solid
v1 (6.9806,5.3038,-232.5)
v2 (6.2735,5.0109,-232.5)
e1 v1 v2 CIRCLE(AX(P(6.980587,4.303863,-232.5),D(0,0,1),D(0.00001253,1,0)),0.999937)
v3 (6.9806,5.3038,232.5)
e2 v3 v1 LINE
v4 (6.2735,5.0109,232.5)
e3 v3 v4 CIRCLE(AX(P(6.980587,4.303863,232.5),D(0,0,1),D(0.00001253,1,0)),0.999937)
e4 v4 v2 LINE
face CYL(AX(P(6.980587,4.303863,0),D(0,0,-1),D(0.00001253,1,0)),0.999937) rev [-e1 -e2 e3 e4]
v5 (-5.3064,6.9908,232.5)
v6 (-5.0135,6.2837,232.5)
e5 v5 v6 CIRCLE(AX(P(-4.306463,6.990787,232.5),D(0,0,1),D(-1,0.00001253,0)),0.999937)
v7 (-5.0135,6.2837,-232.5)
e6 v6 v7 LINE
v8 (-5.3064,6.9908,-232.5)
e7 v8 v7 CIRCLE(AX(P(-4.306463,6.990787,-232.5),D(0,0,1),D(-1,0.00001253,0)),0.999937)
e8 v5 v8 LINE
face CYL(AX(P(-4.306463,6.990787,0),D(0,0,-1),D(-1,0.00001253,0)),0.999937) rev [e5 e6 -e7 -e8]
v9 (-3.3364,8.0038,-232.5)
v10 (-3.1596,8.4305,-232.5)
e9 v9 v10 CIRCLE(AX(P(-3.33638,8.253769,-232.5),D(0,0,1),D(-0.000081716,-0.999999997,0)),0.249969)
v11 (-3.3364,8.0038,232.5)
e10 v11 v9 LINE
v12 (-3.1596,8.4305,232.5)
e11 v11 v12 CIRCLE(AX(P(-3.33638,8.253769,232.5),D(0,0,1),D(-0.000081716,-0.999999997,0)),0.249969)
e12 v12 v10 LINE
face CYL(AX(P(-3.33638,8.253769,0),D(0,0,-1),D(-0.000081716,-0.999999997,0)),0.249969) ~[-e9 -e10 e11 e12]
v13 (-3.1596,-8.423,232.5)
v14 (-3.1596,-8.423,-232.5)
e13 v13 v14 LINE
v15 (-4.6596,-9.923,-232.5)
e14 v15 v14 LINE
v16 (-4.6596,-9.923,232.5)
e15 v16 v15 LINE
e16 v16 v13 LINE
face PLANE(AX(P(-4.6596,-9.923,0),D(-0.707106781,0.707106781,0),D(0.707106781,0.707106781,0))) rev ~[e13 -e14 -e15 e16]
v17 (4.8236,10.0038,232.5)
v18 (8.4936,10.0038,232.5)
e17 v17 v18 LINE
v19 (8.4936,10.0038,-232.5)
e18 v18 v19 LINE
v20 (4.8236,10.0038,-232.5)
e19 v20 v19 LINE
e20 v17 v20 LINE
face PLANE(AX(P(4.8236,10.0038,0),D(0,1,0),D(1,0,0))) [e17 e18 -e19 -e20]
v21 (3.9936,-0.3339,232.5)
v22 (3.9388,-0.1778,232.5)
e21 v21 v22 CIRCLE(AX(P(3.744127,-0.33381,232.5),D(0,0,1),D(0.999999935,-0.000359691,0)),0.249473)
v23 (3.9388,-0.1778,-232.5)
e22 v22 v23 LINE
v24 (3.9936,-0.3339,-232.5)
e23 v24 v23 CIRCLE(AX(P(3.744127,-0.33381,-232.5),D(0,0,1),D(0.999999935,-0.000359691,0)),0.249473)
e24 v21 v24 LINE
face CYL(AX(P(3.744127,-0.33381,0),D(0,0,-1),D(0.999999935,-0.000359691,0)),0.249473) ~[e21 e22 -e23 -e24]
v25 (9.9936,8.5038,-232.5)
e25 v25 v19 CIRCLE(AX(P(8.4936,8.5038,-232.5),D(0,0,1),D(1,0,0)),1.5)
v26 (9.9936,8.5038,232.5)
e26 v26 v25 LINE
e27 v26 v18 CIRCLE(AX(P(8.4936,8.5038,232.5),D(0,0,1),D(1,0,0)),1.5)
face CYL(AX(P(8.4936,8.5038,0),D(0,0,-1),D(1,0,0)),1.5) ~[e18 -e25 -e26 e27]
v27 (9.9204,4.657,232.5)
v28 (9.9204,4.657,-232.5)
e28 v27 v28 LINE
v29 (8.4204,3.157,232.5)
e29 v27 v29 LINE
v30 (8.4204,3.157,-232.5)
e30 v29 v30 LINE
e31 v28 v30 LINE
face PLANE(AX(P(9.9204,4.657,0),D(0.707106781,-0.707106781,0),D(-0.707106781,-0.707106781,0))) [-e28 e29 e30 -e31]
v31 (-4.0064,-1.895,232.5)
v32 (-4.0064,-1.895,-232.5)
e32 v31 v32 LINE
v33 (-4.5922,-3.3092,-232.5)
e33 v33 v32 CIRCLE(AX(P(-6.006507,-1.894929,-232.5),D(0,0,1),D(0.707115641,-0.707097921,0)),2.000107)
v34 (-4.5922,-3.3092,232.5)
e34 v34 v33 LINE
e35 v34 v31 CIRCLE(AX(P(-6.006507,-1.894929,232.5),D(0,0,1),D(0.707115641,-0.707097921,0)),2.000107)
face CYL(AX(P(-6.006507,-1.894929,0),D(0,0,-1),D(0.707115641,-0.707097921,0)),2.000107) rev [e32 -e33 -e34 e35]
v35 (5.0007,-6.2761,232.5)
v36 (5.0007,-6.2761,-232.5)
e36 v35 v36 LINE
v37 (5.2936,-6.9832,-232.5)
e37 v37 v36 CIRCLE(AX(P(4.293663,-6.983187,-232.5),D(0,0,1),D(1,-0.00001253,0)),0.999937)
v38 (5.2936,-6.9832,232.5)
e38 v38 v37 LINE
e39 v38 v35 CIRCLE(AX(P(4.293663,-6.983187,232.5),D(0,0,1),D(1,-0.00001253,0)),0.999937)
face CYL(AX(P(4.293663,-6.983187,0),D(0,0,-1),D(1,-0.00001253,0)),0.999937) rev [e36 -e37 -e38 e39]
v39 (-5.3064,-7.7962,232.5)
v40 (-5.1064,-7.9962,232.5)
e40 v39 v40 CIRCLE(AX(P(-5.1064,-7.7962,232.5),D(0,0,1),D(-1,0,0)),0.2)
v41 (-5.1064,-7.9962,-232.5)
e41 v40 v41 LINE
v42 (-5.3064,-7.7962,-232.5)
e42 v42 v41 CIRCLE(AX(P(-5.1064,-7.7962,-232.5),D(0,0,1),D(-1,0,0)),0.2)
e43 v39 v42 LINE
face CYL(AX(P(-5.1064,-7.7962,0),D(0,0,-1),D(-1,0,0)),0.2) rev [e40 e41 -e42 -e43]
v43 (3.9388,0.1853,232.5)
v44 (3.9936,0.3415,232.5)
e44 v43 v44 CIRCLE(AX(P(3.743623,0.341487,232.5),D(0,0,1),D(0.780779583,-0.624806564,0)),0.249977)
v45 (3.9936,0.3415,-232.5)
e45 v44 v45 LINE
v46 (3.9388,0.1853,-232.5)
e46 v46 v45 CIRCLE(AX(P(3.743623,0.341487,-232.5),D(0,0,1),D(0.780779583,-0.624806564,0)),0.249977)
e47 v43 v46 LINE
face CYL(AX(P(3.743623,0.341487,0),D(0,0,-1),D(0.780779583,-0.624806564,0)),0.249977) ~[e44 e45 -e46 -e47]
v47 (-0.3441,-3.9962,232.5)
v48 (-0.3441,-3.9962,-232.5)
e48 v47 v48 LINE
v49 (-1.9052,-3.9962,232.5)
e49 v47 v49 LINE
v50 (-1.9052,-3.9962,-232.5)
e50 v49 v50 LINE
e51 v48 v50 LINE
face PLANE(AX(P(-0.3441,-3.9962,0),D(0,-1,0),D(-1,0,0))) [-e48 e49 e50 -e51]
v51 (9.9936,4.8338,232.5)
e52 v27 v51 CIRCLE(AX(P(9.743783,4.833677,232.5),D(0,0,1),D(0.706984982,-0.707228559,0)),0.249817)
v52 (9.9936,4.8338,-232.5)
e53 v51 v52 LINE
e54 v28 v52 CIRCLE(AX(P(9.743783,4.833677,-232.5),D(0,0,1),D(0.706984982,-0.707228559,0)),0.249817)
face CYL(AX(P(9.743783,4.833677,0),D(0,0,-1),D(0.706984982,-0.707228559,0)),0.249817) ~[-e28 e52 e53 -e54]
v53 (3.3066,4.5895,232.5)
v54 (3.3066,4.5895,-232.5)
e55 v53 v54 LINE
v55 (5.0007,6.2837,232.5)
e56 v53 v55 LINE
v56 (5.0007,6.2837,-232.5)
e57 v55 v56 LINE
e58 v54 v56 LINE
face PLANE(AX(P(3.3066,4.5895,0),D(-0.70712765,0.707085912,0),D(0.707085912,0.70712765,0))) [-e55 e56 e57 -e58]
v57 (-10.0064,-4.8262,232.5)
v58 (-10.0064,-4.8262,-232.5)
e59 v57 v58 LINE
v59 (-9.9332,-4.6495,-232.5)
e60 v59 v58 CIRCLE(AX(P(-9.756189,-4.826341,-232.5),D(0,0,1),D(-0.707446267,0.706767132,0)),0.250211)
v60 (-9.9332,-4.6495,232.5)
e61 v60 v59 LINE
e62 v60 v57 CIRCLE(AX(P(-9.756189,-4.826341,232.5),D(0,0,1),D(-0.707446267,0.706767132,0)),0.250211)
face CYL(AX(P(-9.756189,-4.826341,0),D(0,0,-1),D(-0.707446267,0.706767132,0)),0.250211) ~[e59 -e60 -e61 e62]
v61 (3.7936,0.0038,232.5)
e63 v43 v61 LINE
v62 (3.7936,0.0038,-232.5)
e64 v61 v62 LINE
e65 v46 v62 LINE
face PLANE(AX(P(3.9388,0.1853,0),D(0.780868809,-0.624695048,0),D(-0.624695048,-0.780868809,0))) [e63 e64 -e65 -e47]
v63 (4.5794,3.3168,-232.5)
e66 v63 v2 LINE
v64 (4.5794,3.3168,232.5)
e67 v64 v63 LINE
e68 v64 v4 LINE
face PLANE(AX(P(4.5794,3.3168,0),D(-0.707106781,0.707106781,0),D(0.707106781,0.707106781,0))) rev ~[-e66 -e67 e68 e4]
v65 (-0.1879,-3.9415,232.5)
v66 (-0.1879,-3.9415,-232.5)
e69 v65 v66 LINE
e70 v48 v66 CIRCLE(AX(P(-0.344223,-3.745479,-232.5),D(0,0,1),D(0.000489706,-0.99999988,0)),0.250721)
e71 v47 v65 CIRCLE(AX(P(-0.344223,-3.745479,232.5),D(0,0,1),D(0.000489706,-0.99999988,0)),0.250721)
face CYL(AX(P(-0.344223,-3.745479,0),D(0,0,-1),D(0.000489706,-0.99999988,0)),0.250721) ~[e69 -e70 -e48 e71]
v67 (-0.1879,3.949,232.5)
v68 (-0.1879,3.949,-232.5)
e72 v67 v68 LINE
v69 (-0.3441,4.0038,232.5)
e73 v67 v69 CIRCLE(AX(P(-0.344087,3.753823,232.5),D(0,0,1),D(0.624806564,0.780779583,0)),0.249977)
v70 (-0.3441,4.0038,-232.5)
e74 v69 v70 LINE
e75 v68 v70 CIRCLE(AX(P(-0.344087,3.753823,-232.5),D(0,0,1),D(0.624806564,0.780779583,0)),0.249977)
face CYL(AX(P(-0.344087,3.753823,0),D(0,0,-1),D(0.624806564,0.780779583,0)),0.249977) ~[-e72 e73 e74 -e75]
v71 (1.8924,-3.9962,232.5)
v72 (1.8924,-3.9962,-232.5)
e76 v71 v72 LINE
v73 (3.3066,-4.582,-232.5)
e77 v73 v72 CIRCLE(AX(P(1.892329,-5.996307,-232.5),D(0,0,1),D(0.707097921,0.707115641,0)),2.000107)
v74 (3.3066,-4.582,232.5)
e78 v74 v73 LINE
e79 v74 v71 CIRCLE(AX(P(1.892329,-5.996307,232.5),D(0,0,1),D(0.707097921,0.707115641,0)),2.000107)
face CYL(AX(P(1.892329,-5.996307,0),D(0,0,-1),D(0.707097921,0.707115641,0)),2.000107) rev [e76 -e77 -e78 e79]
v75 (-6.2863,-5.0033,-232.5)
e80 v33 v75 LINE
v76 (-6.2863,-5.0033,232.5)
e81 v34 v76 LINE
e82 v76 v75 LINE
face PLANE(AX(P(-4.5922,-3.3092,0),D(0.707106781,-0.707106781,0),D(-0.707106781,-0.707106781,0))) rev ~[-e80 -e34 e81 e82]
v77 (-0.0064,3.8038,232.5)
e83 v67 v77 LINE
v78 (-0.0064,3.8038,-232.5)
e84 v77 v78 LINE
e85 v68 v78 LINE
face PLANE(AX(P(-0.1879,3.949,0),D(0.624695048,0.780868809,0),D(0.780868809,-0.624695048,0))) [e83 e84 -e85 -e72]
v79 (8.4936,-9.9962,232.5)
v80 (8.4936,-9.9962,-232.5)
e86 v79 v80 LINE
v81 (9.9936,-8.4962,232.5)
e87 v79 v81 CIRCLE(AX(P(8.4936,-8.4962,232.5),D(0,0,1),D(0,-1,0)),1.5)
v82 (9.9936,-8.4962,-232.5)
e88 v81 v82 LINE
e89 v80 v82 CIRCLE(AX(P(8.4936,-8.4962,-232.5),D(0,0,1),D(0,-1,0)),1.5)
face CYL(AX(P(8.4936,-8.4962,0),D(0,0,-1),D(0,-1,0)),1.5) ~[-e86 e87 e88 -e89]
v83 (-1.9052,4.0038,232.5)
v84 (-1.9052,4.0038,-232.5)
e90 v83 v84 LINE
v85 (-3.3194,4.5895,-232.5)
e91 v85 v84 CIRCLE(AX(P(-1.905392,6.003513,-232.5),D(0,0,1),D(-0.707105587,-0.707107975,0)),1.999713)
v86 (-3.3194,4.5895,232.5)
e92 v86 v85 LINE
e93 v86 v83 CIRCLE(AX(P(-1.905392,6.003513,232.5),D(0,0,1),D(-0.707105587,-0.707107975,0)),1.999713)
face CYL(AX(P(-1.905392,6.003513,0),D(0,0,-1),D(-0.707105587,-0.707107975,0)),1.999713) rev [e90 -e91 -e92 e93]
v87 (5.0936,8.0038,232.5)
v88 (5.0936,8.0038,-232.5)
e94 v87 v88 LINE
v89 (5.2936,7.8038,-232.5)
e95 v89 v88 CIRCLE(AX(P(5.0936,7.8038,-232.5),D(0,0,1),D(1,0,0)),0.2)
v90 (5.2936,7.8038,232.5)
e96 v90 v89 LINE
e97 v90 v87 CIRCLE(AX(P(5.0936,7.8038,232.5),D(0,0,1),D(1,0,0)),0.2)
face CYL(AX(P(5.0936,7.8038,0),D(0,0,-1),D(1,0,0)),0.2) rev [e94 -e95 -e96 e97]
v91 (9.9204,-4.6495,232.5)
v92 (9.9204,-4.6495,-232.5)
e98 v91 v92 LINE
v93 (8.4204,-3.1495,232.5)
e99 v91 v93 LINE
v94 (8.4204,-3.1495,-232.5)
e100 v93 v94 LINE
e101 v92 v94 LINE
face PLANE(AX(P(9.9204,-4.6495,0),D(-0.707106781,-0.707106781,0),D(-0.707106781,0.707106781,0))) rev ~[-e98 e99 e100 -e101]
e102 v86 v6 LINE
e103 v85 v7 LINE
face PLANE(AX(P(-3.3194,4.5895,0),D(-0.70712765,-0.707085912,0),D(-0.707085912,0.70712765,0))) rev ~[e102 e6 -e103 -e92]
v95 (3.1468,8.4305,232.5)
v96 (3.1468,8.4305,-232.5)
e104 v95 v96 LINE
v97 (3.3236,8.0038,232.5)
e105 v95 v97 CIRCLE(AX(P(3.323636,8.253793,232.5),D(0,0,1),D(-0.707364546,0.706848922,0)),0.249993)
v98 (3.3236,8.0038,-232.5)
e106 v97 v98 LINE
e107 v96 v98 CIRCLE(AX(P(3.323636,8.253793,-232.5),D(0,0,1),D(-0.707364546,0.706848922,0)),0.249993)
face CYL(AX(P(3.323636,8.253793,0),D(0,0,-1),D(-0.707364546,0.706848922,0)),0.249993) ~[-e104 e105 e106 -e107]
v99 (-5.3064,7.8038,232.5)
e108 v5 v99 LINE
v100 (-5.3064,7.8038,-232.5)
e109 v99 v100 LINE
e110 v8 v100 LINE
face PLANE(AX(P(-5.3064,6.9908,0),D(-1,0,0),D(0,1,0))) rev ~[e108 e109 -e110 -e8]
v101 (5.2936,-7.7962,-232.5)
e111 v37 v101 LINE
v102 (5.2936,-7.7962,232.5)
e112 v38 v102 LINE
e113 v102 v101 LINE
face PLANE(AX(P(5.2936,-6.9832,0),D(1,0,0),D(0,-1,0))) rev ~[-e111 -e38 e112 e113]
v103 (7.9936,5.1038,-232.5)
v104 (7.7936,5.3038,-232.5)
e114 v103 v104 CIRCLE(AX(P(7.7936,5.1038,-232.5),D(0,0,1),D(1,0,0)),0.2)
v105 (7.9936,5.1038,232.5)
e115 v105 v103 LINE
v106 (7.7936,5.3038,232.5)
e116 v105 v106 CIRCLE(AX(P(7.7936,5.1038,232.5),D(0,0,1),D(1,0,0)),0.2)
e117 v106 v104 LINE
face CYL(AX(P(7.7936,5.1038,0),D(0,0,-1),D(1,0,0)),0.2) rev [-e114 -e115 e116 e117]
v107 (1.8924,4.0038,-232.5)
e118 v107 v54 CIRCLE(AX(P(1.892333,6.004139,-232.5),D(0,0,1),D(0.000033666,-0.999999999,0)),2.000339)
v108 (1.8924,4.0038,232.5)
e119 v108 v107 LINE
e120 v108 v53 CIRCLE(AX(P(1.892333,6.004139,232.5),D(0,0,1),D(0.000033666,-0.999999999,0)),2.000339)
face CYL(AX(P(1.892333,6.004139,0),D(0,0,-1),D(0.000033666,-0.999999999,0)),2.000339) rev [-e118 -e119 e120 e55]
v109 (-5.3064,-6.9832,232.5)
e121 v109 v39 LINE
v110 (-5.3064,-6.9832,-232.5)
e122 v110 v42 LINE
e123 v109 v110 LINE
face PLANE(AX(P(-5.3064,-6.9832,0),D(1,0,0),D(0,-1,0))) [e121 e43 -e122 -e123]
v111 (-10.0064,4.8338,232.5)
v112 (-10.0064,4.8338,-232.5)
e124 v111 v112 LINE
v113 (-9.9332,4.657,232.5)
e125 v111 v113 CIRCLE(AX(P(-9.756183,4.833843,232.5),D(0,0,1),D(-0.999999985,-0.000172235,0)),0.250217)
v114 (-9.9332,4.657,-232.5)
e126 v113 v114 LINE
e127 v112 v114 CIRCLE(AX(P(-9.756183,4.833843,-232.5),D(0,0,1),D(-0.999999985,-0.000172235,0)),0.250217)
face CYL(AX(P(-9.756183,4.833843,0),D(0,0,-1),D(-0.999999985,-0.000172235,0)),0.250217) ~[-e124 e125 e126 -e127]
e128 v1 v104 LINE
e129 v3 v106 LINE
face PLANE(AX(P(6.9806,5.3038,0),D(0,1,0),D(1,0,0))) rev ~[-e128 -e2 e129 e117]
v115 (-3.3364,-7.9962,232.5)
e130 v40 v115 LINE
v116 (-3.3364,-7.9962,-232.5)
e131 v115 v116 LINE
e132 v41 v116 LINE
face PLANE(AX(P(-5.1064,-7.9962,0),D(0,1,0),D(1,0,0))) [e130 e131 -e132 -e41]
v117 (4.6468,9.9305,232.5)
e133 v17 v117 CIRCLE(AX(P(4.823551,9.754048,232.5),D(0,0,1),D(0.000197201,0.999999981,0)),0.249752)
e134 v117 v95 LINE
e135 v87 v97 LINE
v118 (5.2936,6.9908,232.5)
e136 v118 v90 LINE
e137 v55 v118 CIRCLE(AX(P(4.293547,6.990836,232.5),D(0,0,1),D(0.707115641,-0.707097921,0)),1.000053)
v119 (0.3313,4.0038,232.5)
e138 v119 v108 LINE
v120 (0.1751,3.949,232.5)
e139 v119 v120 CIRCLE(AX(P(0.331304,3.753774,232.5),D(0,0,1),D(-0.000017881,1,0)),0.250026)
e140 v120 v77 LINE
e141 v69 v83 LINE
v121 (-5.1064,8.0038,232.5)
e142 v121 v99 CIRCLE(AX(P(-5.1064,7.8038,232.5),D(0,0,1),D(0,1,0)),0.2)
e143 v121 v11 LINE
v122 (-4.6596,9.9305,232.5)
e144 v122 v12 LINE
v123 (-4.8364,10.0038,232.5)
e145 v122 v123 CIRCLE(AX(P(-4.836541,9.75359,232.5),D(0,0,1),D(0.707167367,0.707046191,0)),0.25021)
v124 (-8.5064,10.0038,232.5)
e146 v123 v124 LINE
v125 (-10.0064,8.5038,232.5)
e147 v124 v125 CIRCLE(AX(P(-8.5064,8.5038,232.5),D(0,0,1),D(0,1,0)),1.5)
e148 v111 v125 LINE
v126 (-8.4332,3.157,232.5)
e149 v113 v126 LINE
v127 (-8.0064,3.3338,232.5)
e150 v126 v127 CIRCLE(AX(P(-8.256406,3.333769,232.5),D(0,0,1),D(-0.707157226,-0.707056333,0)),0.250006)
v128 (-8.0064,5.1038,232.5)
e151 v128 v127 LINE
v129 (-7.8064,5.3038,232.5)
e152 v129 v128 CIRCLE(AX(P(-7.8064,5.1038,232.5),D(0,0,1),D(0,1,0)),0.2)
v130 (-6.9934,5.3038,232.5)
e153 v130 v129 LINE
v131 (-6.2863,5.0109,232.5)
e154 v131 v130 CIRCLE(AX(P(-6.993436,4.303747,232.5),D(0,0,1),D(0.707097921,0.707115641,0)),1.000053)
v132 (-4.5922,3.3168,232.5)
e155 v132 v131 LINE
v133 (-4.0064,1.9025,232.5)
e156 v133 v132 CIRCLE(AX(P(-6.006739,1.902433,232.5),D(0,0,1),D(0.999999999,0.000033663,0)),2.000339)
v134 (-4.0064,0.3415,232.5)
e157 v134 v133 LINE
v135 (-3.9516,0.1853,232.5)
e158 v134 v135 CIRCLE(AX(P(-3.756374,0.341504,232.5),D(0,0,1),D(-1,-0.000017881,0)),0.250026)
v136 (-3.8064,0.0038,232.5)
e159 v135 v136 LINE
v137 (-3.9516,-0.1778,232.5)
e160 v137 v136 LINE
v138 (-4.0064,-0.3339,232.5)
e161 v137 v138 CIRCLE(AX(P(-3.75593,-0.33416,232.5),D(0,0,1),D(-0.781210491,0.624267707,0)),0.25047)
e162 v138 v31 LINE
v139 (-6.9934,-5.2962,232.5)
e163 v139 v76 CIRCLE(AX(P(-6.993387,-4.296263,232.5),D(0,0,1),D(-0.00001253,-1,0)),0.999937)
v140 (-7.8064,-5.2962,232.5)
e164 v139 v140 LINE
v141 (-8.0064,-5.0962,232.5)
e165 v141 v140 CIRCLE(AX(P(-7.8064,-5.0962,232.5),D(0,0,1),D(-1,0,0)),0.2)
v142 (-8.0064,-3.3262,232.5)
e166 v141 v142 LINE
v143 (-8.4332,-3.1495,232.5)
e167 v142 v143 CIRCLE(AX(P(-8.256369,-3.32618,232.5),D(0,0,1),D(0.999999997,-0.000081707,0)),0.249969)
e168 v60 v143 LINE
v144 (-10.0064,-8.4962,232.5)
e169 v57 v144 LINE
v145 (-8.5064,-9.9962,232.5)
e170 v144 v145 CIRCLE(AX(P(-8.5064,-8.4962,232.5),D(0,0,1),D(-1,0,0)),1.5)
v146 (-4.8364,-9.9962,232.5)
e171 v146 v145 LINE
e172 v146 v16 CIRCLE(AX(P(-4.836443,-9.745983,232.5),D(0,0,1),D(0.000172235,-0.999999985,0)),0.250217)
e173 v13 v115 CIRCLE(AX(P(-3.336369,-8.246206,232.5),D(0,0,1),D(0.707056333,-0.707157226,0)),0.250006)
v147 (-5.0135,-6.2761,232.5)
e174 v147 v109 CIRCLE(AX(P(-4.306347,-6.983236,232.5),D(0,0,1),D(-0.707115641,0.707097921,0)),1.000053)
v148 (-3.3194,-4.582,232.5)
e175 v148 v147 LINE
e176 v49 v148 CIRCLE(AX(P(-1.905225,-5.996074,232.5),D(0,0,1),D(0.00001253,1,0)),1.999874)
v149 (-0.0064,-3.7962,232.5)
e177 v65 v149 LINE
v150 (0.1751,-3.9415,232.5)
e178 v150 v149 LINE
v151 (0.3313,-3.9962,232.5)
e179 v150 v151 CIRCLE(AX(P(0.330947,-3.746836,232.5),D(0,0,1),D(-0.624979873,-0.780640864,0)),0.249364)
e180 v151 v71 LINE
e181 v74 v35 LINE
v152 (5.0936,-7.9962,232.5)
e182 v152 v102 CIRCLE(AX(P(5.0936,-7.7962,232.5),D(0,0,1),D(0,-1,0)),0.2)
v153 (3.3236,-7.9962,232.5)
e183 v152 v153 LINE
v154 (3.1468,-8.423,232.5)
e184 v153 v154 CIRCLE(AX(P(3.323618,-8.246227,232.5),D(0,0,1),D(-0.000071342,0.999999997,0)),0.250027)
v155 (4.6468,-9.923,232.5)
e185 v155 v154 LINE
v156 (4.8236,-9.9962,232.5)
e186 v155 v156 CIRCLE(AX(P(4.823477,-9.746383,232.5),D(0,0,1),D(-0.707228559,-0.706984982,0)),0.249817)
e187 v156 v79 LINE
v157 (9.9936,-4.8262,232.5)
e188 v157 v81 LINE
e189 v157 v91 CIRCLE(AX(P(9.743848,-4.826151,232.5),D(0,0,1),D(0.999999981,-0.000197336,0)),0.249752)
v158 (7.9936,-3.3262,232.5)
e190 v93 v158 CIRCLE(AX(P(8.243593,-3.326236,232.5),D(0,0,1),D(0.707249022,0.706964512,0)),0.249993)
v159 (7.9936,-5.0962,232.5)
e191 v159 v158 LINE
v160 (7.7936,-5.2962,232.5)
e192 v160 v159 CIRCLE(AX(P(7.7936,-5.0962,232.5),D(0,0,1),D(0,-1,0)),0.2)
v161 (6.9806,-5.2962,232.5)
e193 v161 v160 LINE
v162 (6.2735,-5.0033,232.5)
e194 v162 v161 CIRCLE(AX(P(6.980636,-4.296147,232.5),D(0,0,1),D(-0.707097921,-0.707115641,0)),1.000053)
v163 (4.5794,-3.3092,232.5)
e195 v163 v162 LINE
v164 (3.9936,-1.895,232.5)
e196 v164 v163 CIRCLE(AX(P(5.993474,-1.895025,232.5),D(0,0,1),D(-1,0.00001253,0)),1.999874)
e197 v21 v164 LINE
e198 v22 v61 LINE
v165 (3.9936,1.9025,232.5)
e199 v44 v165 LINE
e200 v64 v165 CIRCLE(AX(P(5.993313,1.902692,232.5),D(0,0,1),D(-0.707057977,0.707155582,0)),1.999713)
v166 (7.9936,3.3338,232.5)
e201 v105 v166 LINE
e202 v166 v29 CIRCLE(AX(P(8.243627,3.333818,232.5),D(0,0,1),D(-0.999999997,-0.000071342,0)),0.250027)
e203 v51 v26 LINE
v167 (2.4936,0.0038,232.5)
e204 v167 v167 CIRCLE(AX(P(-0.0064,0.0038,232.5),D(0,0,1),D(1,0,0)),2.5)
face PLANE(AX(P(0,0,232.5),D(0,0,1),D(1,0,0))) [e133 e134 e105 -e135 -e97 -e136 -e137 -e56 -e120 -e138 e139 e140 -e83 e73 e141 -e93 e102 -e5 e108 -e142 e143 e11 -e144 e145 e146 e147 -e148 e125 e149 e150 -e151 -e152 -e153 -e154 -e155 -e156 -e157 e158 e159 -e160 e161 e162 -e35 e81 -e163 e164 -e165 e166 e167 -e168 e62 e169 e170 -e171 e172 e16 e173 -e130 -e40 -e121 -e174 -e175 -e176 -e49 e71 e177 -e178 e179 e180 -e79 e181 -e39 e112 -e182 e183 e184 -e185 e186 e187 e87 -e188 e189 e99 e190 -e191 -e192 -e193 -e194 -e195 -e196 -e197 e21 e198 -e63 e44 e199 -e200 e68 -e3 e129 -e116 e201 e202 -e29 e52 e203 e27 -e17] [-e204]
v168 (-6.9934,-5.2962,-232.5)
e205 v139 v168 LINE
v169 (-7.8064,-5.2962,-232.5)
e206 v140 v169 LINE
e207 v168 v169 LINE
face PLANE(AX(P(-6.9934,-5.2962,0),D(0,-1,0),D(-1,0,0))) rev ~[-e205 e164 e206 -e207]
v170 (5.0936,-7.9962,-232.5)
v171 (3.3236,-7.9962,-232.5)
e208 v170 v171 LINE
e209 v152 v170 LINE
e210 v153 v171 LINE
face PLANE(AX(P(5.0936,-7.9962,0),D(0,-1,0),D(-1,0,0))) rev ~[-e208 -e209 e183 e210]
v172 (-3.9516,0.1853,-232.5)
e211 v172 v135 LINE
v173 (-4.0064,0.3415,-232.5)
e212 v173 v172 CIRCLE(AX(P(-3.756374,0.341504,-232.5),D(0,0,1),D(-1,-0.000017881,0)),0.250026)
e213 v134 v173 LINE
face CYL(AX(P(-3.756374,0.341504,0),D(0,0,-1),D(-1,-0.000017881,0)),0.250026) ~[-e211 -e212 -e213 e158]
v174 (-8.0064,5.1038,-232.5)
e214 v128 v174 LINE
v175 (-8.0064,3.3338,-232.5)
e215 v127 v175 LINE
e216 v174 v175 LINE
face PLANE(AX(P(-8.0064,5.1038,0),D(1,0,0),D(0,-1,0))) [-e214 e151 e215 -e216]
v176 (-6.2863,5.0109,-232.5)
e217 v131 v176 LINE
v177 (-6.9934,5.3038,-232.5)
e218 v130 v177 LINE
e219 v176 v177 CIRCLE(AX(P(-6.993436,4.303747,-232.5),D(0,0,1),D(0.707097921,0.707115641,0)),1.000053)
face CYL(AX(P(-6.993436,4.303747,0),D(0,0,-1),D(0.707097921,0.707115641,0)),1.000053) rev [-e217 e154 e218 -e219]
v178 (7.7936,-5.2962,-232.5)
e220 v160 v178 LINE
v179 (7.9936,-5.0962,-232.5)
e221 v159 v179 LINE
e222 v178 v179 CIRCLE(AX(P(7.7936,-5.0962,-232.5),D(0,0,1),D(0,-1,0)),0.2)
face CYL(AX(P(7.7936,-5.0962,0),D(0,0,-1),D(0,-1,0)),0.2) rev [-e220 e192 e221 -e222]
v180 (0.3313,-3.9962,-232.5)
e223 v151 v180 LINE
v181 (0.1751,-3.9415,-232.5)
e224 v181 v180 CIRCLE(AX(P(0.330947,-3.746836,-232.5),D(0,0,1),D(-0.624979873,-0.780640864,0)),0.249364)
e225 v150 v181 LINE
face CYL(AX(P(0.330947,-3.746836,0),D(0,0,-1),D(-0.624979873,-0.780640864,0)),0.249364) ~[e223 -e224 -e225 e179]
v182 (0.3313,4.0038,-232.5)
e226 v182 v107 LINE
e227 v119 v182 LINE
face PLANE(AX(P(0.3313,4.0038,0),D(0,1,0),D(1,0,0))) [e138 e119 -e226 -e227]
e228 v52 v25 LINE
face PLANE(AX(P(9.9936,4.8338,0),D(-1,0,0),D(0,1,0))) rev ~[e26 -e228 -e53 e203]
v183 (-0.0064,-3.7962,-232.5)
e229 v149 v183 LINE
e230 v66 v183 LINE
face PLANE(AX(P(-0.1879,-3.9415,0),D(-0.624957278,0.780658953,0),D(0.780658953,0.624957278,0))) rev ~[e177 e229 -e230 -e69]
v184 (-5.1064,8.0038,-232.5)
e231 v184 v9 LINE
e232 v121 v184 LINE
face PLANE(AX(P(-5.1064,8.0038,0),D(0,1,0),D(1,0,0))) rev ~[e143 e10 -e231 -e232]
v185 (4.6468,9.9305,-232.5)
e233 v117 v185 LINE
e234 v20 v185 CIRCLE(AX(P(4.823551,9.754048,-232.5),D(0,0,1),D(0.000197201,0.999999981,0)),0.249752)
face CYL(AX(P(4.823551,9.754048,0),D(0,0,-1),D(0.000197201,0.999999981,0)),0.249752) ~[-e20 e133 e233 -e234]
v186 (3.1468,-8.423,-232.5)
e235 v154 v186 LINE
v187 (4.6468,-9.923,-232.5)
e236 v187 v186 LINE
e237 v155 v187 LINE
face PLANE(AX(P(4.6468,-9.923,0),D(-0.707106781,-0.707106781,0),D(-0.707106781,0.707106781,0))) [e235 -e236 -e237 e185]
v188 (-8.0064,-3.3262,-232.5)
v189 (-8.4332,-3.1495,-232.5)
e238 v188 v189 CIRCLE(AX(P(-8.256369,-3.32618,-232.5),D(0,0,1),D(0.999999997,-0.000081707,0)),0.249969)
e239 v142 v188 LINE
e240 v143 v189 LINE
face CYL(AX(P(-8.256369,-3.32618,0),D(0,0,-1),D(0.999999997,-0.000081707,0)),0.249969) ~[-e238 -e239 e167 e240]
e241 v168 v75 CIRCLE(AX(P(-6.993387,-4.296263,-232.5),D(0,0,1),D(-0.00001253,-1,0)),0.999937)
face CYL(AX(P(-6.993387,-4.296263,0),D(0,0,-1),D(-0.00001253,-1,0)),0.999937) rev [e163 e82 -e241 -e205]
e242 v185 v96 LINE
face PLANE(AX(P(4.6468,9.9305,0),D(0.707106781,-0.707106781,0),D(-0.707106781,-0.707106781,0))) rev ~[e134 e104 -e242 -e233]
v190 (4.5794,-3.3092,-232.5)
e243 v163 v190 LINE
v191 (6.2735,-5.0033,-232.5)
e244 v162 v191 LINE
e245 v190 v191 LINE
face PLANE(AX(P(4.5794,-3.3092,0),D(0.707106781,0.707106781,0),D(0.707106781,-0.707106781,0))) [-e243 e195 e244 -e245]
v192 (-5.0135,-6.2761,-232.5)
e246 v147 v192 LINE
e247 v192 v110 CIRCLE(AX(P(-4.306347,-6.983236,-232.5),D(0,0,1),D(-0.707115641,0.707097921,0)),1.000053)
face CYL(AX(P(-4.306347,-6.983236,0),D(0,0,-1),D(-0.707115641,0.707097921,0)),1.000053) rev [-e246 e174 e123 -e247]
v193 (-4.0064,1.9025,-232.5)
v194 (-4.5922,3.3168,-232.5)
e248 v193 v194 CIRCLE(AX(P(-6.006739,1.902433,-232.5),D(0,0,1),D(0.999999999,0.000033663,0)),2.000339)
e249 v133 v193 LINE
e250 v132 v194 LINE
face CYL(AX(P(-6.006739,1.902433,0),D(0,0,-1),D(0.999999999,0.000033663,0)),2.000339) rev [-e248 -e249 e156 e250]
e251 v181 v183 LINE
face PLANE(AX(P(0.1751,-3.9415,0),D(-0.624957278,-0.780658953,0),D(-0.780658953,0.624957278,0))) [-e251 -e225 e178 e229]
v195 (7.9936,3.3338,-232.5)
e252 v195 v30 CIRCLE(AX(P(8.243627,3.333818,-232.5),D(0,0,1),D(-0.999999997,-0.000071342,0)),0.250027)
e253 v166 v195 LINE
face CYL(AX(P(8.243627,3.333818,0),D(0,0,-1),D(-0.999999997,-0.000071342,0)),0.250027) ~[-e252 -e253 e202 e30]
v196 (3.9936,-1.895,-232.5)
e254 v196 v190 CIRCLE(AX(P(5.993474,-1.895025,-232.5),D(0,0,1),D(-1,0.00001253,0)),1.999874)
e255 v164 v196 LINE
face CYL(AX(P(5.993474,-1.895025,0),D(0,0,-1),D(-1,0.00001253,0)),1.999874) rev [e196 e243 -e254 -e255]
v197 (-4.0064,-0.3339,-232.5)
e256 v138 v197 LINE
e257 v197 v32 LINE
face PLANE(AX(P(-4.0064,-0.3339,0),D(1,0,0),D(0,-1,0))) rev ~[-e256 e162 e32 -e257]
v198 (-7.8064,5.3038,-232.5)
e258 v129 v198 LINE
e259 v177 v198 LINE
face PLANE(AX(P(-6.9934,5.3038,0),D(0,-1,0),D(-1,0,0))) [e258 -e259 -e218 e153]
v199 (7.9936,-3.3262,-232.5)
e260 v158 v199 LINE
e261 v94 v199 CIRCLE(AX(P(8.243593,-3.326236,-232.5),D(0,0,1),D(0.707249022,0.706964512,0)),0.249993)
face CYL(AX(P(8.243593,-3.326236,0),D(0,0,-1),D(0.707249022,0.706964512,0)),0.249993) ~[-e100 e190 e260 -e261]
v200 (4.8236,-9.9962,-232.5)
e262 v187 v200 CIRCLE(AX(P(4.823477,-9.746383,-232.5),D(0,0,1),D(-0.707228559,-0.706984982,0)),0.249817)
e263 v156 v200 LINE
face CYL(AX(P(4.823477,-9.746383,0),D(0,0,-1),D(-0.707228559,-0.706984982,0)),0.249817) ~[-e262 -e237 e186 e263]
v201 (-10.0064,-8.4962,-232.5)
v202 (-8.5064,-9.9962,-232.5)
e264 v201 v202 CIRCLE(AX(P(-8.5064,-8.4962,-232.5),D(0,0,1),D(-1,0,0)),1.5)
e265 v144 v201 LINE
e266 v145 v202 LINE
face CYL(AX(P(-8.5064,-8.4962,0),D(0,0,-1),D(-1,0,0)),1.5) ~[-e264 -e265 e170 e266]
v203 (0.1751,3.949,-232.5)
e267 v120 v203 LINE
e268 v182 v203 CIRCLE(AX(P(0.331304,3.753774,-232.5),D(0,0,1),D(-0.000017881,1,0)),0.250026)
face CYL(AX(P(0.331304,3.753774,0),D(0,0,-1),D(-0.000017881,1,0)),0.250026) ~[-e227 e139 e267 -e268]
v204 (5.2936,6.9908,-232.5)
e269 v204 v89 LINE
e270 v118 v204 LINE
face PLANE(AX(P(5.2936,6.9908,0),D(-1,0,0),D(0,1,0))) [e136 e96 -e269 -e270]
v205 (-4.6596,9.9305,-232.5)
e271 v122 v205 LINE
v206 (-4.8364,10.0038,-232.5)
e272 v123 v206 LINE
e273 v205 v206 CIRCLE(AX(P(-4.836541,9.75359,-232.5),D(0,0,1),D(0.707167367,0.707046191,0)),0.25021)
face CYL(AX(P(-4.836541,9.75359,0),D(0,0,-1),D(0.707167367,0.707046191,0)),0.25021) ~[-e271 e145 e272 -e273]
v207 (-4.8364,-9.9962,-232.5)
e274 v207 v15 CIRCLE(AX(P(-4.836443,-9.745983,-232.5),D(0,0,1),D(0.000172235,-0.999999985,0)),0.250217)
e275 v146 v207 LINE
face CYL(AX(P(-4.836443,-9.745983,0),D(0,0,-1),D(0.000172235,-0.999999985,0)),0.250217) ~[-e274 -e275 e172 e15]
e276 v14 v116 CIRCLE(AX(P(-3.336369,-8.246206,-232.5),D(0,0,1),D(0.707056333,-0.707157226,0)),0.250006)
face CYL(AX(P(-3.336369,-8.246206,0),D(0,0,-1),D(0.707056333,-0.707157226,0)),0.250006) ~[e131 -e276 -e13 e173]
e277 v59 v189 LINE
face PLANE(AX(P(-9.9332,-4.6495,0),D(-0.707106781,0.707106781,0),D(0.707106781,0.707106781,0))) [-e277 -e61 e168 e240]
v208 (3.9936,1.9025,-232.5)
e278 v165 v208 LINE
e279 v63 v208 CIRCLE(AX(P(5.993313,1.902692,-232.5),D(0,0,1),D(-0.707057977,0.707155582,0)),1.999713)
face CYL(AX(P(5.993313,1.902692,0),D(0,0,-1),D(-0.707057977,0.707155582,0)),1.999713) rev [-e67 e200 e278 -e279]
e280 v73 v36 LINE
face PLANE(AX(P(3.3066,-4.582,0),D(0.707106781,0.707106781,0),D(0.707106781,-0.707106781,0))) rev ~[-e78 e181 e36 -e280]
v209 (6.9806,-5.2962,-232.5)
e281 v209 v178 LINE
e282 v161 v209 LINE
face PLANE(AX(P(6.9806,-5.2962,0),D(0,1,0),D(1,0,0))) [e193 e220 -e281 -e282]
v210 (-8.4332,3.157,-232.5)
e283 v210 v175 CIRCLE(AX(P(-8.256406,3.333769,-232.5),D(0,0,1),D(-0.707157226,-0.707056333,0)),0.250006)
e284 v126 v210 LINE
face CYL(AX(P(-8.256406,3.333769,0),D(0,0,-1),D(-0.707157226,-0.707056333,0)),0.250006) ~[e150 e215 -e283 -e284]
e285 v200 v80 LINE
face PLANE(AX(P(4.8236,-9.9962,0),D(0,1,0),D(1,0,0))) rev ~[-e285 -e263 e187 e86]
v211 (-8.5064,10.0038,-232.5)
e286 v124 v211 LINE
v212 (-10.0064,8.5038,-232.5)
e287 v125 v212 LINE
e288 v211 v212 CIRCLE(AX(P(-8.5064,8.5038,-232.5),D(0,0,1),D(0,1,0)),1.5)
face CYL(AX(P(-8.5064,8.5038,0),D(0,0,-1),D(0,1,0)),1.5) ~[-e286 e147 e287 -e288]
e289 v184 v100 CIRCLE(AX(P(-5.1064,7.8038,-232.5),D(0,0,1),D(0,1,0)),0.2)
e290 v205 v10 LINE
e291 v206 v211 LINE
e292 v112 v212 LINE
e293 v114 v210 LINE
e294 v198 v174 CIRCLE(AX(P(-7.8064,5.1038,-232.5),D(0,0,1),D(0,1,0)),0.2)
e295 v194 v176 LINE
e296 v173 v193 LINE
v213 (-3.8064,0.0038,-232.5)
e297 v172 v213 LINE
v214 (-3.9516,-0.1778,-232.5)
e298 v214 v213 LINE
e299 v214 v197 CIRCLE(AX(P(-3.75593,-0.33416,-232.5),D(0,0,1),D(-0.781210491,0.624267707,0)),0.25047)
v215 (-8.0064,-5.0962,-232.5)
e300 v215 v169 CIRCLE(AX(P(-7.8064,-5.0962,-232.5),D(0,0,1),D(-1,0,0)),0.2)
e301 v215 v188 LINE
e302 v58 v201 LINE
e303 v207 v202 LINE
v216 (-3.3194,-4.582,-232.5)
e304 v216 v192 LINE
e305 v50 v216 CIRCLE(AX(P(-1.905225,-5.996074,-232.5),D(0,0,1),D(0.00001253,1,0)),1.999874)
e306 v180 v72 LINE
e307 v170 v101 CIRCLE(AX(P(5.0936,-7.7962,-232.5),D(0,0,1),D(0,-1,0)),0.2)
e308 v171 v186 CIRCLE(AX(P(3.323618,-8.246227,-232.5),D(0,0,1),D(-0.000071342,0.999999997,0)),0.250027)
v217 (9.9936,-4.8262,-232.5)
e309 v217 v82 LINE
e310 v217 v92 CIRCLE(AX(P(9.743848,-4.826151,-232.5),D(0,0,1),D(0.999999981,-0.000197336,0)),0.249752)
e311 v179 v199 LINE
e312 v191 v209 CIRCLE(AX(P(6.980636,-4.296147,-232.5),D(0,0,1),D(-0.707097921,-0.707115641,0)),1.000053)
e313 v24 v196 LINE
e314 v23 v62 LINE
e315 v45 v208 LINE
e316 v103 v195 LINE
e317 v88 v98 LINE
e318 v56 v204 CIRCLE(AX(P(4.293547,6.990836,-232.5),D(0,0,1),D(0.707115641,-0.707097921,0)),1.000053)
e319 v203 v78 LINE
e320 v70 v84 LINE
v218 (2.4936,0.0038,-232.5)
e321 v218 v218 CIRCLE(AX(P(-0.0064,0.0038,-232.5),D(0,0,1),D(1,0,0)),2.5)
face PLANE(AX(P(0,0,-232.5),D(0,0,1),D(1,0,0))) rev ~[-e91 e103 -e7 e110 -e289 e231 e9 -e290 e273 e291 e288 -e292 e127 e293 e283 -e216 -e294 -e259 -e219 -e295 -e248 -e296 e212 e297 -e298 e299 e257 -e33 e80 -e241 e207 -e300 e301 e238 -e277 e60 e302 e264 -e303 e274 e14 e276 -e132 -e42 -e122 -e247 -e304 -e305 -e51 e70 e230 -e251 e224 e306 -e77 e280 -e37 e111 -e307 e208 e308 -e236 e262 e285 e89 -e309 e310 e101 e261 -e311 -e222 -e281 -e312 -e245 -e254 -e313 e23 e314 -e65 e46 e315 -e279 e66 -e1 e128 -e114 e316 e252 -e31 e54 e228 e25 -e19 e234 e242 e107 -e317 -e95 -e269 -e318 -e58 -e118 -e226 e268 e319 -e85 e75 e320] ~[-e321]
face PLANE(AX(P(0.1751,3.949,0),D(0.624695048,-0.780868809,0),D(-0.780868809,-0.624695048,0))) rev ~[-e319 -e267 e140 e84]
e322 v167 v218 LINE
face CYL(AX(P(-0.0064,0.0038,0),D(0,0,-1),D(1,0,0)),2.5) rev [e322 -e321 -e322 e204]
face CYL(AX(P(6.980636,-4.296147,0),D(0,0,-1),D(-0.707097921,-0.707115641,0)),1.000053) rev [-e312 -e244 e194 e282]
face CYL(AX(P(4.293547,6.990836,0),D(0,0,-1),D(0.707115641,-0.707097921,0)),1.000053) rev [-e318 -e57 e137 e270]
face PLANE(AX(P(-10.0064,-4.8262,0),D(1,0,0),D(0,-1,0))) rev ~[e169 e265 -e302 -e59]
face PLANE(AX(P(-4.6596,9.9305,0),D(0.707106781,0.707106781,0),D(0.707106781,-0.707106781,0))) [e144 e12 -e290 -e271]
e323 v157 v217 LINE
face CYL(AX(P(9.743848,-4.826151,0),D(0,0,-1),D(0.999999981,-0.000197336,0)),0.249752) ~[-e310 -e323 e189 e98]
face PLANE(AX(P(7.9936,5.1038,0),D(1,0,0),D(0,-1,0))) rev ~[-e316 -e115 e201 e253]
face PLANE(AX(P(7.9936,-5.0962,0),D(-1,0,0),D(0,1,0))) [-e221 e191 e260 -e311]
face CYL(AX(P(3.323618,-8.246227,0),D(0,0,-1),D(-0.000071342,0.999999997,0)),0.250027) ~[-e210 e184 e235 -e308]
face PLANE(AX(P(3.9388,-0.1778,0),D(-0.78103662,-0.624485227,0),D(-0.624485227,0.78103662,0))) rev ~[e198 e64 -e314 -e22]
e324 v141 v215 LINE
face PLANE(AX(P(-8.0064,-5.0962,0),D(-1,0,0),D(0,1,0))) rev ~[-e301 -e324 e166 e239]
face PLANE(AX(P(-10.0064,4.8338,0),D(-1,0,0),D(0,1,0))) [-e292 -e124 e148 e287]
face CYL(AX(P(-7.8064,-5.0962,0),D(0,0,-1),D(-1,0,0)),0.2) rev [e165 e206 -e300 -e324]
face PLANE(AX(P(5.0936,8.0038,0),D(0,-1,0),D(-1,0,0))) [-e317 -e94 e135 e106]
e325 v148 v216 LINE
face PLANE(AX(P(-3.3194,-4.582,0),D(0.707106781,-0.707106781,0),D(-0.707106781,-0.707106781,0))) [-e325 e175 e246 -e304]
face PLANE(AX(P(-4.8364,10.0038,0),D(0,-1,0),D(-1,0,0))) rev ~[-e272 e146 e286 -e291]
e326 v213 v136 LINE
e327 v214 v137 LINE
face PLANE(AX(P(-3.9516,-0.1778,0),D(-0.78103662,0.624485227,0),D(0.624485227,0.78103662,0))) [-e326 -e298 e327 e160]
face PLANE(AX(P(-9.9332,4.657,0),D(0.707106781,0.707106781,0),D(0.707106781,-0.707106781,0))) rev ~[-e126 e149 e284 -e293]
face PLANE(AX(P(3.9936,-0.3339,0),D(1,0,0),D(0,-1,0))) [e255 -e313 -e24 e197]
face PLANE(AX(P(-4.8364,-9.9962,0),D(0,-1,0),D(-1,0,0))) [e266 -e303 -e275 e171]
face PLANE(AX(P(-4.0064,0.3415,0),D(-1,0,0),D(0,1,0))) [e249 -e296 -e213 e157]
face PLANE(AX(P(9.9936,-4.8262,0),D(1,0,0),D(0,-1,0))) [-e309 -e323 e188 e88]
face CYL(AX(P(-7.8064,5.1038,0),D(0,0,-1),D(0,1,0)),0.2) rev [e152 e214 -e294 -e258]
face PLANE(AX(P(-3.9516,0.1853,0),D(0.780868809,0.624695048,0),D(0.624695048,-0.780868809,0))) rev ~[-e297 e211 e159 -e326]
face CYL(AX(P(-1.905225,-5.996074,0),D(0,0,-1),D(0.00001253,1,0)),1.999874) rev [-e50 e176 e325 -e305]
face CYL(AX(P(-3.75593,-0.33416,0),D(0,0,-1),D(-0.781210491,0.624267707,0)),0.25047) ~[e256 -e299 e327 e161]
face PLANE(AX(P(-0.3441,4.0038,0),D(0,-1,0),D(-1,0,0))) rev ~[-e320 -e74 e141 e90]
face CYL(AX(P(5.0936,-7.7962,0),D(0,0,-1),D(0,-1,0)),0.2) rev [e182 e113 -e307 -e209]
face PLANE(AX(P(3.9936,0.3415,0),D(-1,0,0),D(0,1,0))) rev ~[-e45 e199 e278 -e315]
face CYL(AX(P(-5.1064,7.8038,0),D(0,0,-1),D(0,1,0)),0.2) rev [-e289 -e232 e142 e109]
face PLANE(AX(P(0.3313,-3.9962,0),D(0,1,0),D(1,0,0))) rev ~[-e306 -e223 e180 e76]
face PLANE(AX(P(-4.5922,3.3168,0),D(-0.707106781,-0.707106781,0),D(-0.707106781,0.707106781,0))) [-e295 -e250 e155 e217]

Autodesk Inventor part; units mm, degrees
ref_plane "YZ Plane" through (0, 0, 0) normal (1, 0, 0) x (0, 1, 0)
ref_plane "XZ Plane" through (0, 0, 0) normal (0, 1, 0) x (-1, 0, 0)
ref_plane "XY Plane" through (0, 0, 0) normal (0, 0, 1) x (1, 0, 0)
sketch "Эскиз1" plane through (0, 0, 0) normal (0, 0, 1) x (1, 0, 0)
  line L0 (-3.9516, 0.1853) -> (-3.8064, 0.0038)
  line L1 (-3.9516, -0.1778) -> (-3.8064, 0.0038)
  arc A0 (-3.9516, -0.1778) -> (-4.0064, -0.3339) centre (-3.7564, -0.3339) ccw
  line L2 (-4.0064, -0.3339) -> (-4.0064, -1.895)
  arc A1 (-4.5922, -3.3092) -> (-4.0064, -1.895) centre (-6.0064, -1.895) ccw
  line L3 (-4.5922, -3.3092) -> (-6.2863, -5.0033)
  arc A2 (-6.9934, -5.2962) -> (-6.2863, -5.0033) centre (-6.9934, -4.2962) ccw
  line L4 (-6.9934, -5.2962) -> (-7.8064, -5.2962)
  arc A3 (-8.0064, -5.0962) -> (-7.8064, -5.2962) centre (-7.8064, -5.0962) ccw
  line L5 (-8.0064, -5.0962) -> (-8.0064, -3.3262)
  arc A4 (-8.0064, -3.3262) -> (-8.4332, -3.1495) centre (-8.2564, -3.3262) ccw
  line L6 (-9.9332, -4.6495) -> (-8.4332, -3.1495)
  arc A5 (-9.9332, -4.6495) -> (-10.0064, -4.8262) centre (-9.7564, -4.8262) ccw
  line L7 (-10.0064, -4.8262) -> (-10.0064, -8.4962)
  arc A6 (-10.0064, -8.4962) -> (-8.5064, -9.9962) centre (-8.5064, -8.4962) ccw
  line L8 (-4.8364, -9.9962) -> (-8.5064, -9.9962)
  arc A7 (-4.8364, -9.9962) -> (-4.6596, -9.923) centre (-4.8364, -9.7462) ccw
  line L9 (-4.6596, -9.923) -> (-3.1596, -8.423)
  arc A8 (-3.1596, -8.423) -> (-3.3364, -7.9962) centre (-3.3364, -8.2462) ccw
  line L10 (-5.1064, -7.9962) -> (-3.3364, -7.9962)
  arc A9 (-5.3064, -7.7962) -> (-5.1064, -7.9962) centre (-5.1064, -7.7962) ccw
  line L11 (-5.3064, -6.9832) -> (-5.3064, -7.7962)
  arc A10 (-5.0135, -6.2761) -> (-5.3064, -6.9832) centre (-4.3064, -6.9832) ccw
  line L12 (-3.3194, -4.582) -> (-5.0135, -6.2761)
  arc A11 (-1.9052, -3.9962) -> (-3.3194, -4.582) centre (-1.9052, -5.9962) ccw
  line L13 (-0.3441, -3.9962) -> (-1.9052, -3.9962)
  arc A12 (-0.3441, -3.9962) -> (-0.1879, -3.9415) centre (-0.3441, -3.7462) ccw
  line L14 (-0.1879, -3.9415) -> (-0.0064, -3.7962)
  line L15 (0.1751, -3.9415) -> (-0.0064, -3.7962)
  arc A13 (0.1751, -3.9415) -> (0.3313, -3.9962) centre (0.3313, -3.7462) ccw
  line L16 (0.3313, -3.9962) -> (1.8924, -3.9962)
  arc A14 (3.3066, -4.582) -> (1.8924, -3.9962) centre (1.8924, -5.9962) ccw
  line L17 (3.3066, -4.582) -> (5.0007, -6.2761)
  arc A15 (5.2936, -6.9832) -> (5.0007, -6.2761) centre (4.2936, -6.9832) ccw
  line L18 (5.2936, -6.9832) -> (5.2936, -7.7962)
  arc A16 (5.0936, -7.9962) -> (5.2936, -7.7962) centre (5.0936, -7.7962) ccw
  line L19 (5.0936, -7.9962) -> (3.3236, -7.9962)
  arc A17 (3.3236, -7.9962) -> (3.1468, -8.423) centre (3.3236, -8.2462) ccw
  line L20 (4.6468, -9.923) -> (3.1468, -8.423)
  arc A18 (4.6468, -9.923) -> (4.8236, -9.9962) centre (4.8236, -9.7462) ccw
  line L21 (4.8236, -9.9962) -> (8.4936, -9.9962)
  arc A19 (8.4936, -9.9962) -> (9.9936, -8.4962) centre (8.4936, -8.4962) ccw
  line L22 (9.9936, -4.8262) -> (9.9936, -8.4962)
  arc A20 (9.9936, -4.8262) -> (9.9204, -4.6495) centre (9.7436, -4.8262) ccw
  line L23 (9.9204, -4.6495) -> (8.4204, -3.1495)
  arc A21 (8.4204, -3.1495) -> (7.9936, -3.3262) centre (8.2436, -3.3262) ccw
  line L24 (7.9936, -5.0962) -> (7.9936, -3.3262)
  arc A22 (7.7936, -5.2962) -> (7.9936, -5.0962) centre (7.7936, -5.0962) ccw
  line L25 (6.9806, -5.2962) -> (7.7936, -5.2962)
  arc A23 (6.2735, -5.0033) -> (6.9806, -5.2962) centre (6.9806, -4.2962) ccw
  line L26 (4.5794, -3.3092) -> (6.2735, -5.0033)
  arc A24 (3.9936, -1.895) -> (4.5794, -3.3092) centre (5.9936, -1.895) ccw
  line L27 (3.9936, -0.3339) -> (3.9936, -1.895)
  arc A25 (3.9936, -0.3339) -> (3.9388, -0.1778) centre (3.7436, -0.3339) ccw
  line L28 (3.9388, -0.1778) -> (3.7936, 0.0038)
  line L29 (3.9388, 0.1853) -> (3.7936, 0.0038)
  arc A26 (3.9388, 0.1853) -> (3.9936, 0.3415) centre (3.7436, 0.3415) ccw
  line L30 (3.9936, 0.3415) -> (3.9936, 1.9025)
  arc A27 (4.5794, 3.3168) -> (3.9936, 1.9025) centre (5.9936, 1.9025) ccw
  line L31 (4.5794, 3.3168) -> (6.2735, 5.0109)
  arc A28 (6.9806, 5.3038) -> (6.2735, 5.0109) centre (6.9806, 4.3038) ccw
  line L32 (6.9806, 5.3038) -> (7.7936, 5.3038)
  arc A29 (7.9936, 5.1038) -> (7.7936, 5.3038) centre (7.7936, 5.1038) ccw
  line L33 (7.9936, 5.1038) -> (7.9936, 3.3338)
  arc A30 (7.9936, 3.3338) -> (8.4204, 3.157) centre (8.2436, 3.3338) ccw
  line L34 (9.9204, 4.657) -> (8.4204, 3.157)
  arc A31 (9.9204, 4.657) -> (9.9936, 4.8338) centre (9.7436, 4.8338) ccw
  line L35 (9.9936, 4.8338) -> (9.9936, 8.5038)
  arc A32 (9.9936, 8.5038) -> (8.4936, 10.0038) centre (8.4936, 8.5038) ccw
  line L36 (4.8236, 10.0038) -> (8.4936, 10.0038)
  arc A33 (4.8236, 10.0038) -> (4.6468, 9.9305) centre (4.8236, 9.7538) ccw
  line L37 (4.6468, 9.9305) -> (3.1468, 8.4305)
  arc A34 (3.1468, 8.4305) -> (3.3236, 8.0038) centre (3.3236, 8.2538) ccw
  line L38 (5.0936, 8.0038) -> (3.3236, 8.0038)
  arc A35 (5.2936, 7.8038) -> (5.0936, 8.0038) centre (5.0936, 7.8038) ccw
  line L39 (5.2936, 6.9908) -> (5.2936, 7.8038)
  arc A36 (5.0007, 6.2837) -> (5.2936, 6.9908) centre (4.2936, 6.9908) ccw
  line L40 (3.3066, 4.5895) -> (5.0007, 6.2837)
  arc A37 (1.8924, 4.0038) -> (3.3066, 4.5895) centre (1.8924, 6.0038) ccw
  line L41 (0.3313, 4.0038) -> (1.8924, 4.0038)
  arc A38 (0.3313, 4.0038) -> (0.1751, 3.949) centre (0.3313, 3.7538) ccw
  line L42 (0.1751, 3.949) -> (-0.0064, 3.8038)
  line L43 (-0.1879, 3.949) -> (-0.0064, 3.8038)
  arc A39 (-0.1879, 3.949) -> (-0.3441, 4.0038) centre (-0.3441, 3.7538) ccw
  line L44 (-0.3441, 4.0038) -> (-1.9052, 4.0038)
  arc A40 (-3.3194, 4.5895) -> (-1.9052, 4.0038) centre (-1.9052, 6.0038) ccw
  line L45 (-3.3194, 4.5895) -> (-5.0135, 6.2837)
  arc A41 (-5.3064, 6.9908) -> (-5.0135, 6.2837) centre (-4.3064, 6.9908) ccw
  line L46 (-5.3064, 6.9908) -> (-5.3064, 7.8038)
  arc A42 (-5.1064, 8.0038) -> (-5.3064, 7.8038) centre (-5.1064, 7.8038) ccw
  line L47 (-5.1064, 8.0038) -> (-3.3364, 8.0038)
  arc A43 (-3.3364, 8.0038) -> (-3.1596, 8.4305) centre (-3.3364, 8.2538) ccw
  line L48 (-4.6596, 9.9305) -> (-3.1596, 8.4305)
  arc A44 (-4.6596, 9.9305) -> (-4.8364, 10.0038) centre (-4.8364, 9.7538) ccw
  line L49 (-4.8364, 10.0038) -> (-8.5064, 10.0038)
  arc A45 (-8.5064, 10.0038) -> (-10.0064, 8.5038) centre (-8.5064, 8.5038) ccw
  line L50 (-10.0064, 4.8338) -> (-10.0064, 8.5038)
  arc A46 (-10.0064, 4.8338) -> (-9.9332, 4.657) centre (-9.7564, 4.8338) ccw
  line L51 (-9.9332, 4.657) -> (-8.4332, 3.157)
  arc A47 (-8.4332, 3.157) -> (-8.0064, 3.3338) centre (-8.2564, 3.3338) ccw
  line L52 (-8.0064, 5.1038) -> (-8.0064, 3.3338)
  arc A48 (-7.8064, 5.3038) -> (-8.0064, 5.1038) centre (-7.8064, 5.1038) ccw
  line L53 (-6.9934, 5.3038) -> (-7.8064, 5.3038)
  arc A49 (-6.2863, 5.0109) -> (-6.9934, 5.3038) centre (-6.9934, 4.3038) ccw
  line L54 (-4.5922, 3.3168) -> (-6.2863, 5.0109)
  arc A50 (-4.0064, 1.9025) -> (-4.5922, 3.3168) centre (-6.0064, 1.9025) ccw
  line L55 (-4.0064, 0.3415) -> (-4.0064, 1.9025)
  arc A51 (-4.0064, 0.3415) -> (-3.9516, 0.1853) centre (-3.7564, 0.3415) ccw
  circle A52 centre (-0.0064, 0.0038) radius 2.5
  point P0 (0, 0)
  point P1 (-0.0064, 0.0038)
  dimension "d0" = 0.25
  dimension "d1" = 1.5
  dimension "d2" = 0.2
  dimension "d3" = 1
  dimension "d4" = 2
  dimension "d5" = 5
  dimension "d6" = 135
  dimension "d7" = 38.66
  dimension "d8" = 38.66
  dimension "d9" = 45
  dimension "d10" = 2
  dimension "d11" = 4.7
  dimension "d12" = 14
  dimension "d13" = 15.3
  dimension "d14" = 20
  dimension "d15" = 2.829
  dimension "d16" = 4.629
  dimension "d17" = 7.4579
  dimension "d18" = 2.829
  dimension "d19" = 4.629
  dimension "d20" = 7.4579
  dimension "d21" = 10.6
  dimension "d22" = 4.7
  dimension "d23" = 15.3
  dimension "d24" = 2.7
  dimension "d25" = 13.3
  dimension "d26" = 5.9346
  dimension "d27" = 5.9346
  dimension "d28" = 5.9346
  dimension "d29" = 5.9346
  dimension "d30" = 9.9936
  dimension "d31" = 3.7218
  dimension "d32" = 3.7271
  dimension "d33" = 5.3038
  dimension "d34" = 2.96
  dimension "d35" = 2.9647
  dimension "d36" = 2.9742
  dimension "d37" = 2.9684
  dimension "d38" = 8.0064
  dimension "d39" = 10
  dimension "d40" = 3.729
  dimension "d41" = 10
  dimension "d42" = 3.729
extrude "Выдавливание1" add sketch "Эскиз1" along normal mid plane 465
properties part number "AP20x20x500"
